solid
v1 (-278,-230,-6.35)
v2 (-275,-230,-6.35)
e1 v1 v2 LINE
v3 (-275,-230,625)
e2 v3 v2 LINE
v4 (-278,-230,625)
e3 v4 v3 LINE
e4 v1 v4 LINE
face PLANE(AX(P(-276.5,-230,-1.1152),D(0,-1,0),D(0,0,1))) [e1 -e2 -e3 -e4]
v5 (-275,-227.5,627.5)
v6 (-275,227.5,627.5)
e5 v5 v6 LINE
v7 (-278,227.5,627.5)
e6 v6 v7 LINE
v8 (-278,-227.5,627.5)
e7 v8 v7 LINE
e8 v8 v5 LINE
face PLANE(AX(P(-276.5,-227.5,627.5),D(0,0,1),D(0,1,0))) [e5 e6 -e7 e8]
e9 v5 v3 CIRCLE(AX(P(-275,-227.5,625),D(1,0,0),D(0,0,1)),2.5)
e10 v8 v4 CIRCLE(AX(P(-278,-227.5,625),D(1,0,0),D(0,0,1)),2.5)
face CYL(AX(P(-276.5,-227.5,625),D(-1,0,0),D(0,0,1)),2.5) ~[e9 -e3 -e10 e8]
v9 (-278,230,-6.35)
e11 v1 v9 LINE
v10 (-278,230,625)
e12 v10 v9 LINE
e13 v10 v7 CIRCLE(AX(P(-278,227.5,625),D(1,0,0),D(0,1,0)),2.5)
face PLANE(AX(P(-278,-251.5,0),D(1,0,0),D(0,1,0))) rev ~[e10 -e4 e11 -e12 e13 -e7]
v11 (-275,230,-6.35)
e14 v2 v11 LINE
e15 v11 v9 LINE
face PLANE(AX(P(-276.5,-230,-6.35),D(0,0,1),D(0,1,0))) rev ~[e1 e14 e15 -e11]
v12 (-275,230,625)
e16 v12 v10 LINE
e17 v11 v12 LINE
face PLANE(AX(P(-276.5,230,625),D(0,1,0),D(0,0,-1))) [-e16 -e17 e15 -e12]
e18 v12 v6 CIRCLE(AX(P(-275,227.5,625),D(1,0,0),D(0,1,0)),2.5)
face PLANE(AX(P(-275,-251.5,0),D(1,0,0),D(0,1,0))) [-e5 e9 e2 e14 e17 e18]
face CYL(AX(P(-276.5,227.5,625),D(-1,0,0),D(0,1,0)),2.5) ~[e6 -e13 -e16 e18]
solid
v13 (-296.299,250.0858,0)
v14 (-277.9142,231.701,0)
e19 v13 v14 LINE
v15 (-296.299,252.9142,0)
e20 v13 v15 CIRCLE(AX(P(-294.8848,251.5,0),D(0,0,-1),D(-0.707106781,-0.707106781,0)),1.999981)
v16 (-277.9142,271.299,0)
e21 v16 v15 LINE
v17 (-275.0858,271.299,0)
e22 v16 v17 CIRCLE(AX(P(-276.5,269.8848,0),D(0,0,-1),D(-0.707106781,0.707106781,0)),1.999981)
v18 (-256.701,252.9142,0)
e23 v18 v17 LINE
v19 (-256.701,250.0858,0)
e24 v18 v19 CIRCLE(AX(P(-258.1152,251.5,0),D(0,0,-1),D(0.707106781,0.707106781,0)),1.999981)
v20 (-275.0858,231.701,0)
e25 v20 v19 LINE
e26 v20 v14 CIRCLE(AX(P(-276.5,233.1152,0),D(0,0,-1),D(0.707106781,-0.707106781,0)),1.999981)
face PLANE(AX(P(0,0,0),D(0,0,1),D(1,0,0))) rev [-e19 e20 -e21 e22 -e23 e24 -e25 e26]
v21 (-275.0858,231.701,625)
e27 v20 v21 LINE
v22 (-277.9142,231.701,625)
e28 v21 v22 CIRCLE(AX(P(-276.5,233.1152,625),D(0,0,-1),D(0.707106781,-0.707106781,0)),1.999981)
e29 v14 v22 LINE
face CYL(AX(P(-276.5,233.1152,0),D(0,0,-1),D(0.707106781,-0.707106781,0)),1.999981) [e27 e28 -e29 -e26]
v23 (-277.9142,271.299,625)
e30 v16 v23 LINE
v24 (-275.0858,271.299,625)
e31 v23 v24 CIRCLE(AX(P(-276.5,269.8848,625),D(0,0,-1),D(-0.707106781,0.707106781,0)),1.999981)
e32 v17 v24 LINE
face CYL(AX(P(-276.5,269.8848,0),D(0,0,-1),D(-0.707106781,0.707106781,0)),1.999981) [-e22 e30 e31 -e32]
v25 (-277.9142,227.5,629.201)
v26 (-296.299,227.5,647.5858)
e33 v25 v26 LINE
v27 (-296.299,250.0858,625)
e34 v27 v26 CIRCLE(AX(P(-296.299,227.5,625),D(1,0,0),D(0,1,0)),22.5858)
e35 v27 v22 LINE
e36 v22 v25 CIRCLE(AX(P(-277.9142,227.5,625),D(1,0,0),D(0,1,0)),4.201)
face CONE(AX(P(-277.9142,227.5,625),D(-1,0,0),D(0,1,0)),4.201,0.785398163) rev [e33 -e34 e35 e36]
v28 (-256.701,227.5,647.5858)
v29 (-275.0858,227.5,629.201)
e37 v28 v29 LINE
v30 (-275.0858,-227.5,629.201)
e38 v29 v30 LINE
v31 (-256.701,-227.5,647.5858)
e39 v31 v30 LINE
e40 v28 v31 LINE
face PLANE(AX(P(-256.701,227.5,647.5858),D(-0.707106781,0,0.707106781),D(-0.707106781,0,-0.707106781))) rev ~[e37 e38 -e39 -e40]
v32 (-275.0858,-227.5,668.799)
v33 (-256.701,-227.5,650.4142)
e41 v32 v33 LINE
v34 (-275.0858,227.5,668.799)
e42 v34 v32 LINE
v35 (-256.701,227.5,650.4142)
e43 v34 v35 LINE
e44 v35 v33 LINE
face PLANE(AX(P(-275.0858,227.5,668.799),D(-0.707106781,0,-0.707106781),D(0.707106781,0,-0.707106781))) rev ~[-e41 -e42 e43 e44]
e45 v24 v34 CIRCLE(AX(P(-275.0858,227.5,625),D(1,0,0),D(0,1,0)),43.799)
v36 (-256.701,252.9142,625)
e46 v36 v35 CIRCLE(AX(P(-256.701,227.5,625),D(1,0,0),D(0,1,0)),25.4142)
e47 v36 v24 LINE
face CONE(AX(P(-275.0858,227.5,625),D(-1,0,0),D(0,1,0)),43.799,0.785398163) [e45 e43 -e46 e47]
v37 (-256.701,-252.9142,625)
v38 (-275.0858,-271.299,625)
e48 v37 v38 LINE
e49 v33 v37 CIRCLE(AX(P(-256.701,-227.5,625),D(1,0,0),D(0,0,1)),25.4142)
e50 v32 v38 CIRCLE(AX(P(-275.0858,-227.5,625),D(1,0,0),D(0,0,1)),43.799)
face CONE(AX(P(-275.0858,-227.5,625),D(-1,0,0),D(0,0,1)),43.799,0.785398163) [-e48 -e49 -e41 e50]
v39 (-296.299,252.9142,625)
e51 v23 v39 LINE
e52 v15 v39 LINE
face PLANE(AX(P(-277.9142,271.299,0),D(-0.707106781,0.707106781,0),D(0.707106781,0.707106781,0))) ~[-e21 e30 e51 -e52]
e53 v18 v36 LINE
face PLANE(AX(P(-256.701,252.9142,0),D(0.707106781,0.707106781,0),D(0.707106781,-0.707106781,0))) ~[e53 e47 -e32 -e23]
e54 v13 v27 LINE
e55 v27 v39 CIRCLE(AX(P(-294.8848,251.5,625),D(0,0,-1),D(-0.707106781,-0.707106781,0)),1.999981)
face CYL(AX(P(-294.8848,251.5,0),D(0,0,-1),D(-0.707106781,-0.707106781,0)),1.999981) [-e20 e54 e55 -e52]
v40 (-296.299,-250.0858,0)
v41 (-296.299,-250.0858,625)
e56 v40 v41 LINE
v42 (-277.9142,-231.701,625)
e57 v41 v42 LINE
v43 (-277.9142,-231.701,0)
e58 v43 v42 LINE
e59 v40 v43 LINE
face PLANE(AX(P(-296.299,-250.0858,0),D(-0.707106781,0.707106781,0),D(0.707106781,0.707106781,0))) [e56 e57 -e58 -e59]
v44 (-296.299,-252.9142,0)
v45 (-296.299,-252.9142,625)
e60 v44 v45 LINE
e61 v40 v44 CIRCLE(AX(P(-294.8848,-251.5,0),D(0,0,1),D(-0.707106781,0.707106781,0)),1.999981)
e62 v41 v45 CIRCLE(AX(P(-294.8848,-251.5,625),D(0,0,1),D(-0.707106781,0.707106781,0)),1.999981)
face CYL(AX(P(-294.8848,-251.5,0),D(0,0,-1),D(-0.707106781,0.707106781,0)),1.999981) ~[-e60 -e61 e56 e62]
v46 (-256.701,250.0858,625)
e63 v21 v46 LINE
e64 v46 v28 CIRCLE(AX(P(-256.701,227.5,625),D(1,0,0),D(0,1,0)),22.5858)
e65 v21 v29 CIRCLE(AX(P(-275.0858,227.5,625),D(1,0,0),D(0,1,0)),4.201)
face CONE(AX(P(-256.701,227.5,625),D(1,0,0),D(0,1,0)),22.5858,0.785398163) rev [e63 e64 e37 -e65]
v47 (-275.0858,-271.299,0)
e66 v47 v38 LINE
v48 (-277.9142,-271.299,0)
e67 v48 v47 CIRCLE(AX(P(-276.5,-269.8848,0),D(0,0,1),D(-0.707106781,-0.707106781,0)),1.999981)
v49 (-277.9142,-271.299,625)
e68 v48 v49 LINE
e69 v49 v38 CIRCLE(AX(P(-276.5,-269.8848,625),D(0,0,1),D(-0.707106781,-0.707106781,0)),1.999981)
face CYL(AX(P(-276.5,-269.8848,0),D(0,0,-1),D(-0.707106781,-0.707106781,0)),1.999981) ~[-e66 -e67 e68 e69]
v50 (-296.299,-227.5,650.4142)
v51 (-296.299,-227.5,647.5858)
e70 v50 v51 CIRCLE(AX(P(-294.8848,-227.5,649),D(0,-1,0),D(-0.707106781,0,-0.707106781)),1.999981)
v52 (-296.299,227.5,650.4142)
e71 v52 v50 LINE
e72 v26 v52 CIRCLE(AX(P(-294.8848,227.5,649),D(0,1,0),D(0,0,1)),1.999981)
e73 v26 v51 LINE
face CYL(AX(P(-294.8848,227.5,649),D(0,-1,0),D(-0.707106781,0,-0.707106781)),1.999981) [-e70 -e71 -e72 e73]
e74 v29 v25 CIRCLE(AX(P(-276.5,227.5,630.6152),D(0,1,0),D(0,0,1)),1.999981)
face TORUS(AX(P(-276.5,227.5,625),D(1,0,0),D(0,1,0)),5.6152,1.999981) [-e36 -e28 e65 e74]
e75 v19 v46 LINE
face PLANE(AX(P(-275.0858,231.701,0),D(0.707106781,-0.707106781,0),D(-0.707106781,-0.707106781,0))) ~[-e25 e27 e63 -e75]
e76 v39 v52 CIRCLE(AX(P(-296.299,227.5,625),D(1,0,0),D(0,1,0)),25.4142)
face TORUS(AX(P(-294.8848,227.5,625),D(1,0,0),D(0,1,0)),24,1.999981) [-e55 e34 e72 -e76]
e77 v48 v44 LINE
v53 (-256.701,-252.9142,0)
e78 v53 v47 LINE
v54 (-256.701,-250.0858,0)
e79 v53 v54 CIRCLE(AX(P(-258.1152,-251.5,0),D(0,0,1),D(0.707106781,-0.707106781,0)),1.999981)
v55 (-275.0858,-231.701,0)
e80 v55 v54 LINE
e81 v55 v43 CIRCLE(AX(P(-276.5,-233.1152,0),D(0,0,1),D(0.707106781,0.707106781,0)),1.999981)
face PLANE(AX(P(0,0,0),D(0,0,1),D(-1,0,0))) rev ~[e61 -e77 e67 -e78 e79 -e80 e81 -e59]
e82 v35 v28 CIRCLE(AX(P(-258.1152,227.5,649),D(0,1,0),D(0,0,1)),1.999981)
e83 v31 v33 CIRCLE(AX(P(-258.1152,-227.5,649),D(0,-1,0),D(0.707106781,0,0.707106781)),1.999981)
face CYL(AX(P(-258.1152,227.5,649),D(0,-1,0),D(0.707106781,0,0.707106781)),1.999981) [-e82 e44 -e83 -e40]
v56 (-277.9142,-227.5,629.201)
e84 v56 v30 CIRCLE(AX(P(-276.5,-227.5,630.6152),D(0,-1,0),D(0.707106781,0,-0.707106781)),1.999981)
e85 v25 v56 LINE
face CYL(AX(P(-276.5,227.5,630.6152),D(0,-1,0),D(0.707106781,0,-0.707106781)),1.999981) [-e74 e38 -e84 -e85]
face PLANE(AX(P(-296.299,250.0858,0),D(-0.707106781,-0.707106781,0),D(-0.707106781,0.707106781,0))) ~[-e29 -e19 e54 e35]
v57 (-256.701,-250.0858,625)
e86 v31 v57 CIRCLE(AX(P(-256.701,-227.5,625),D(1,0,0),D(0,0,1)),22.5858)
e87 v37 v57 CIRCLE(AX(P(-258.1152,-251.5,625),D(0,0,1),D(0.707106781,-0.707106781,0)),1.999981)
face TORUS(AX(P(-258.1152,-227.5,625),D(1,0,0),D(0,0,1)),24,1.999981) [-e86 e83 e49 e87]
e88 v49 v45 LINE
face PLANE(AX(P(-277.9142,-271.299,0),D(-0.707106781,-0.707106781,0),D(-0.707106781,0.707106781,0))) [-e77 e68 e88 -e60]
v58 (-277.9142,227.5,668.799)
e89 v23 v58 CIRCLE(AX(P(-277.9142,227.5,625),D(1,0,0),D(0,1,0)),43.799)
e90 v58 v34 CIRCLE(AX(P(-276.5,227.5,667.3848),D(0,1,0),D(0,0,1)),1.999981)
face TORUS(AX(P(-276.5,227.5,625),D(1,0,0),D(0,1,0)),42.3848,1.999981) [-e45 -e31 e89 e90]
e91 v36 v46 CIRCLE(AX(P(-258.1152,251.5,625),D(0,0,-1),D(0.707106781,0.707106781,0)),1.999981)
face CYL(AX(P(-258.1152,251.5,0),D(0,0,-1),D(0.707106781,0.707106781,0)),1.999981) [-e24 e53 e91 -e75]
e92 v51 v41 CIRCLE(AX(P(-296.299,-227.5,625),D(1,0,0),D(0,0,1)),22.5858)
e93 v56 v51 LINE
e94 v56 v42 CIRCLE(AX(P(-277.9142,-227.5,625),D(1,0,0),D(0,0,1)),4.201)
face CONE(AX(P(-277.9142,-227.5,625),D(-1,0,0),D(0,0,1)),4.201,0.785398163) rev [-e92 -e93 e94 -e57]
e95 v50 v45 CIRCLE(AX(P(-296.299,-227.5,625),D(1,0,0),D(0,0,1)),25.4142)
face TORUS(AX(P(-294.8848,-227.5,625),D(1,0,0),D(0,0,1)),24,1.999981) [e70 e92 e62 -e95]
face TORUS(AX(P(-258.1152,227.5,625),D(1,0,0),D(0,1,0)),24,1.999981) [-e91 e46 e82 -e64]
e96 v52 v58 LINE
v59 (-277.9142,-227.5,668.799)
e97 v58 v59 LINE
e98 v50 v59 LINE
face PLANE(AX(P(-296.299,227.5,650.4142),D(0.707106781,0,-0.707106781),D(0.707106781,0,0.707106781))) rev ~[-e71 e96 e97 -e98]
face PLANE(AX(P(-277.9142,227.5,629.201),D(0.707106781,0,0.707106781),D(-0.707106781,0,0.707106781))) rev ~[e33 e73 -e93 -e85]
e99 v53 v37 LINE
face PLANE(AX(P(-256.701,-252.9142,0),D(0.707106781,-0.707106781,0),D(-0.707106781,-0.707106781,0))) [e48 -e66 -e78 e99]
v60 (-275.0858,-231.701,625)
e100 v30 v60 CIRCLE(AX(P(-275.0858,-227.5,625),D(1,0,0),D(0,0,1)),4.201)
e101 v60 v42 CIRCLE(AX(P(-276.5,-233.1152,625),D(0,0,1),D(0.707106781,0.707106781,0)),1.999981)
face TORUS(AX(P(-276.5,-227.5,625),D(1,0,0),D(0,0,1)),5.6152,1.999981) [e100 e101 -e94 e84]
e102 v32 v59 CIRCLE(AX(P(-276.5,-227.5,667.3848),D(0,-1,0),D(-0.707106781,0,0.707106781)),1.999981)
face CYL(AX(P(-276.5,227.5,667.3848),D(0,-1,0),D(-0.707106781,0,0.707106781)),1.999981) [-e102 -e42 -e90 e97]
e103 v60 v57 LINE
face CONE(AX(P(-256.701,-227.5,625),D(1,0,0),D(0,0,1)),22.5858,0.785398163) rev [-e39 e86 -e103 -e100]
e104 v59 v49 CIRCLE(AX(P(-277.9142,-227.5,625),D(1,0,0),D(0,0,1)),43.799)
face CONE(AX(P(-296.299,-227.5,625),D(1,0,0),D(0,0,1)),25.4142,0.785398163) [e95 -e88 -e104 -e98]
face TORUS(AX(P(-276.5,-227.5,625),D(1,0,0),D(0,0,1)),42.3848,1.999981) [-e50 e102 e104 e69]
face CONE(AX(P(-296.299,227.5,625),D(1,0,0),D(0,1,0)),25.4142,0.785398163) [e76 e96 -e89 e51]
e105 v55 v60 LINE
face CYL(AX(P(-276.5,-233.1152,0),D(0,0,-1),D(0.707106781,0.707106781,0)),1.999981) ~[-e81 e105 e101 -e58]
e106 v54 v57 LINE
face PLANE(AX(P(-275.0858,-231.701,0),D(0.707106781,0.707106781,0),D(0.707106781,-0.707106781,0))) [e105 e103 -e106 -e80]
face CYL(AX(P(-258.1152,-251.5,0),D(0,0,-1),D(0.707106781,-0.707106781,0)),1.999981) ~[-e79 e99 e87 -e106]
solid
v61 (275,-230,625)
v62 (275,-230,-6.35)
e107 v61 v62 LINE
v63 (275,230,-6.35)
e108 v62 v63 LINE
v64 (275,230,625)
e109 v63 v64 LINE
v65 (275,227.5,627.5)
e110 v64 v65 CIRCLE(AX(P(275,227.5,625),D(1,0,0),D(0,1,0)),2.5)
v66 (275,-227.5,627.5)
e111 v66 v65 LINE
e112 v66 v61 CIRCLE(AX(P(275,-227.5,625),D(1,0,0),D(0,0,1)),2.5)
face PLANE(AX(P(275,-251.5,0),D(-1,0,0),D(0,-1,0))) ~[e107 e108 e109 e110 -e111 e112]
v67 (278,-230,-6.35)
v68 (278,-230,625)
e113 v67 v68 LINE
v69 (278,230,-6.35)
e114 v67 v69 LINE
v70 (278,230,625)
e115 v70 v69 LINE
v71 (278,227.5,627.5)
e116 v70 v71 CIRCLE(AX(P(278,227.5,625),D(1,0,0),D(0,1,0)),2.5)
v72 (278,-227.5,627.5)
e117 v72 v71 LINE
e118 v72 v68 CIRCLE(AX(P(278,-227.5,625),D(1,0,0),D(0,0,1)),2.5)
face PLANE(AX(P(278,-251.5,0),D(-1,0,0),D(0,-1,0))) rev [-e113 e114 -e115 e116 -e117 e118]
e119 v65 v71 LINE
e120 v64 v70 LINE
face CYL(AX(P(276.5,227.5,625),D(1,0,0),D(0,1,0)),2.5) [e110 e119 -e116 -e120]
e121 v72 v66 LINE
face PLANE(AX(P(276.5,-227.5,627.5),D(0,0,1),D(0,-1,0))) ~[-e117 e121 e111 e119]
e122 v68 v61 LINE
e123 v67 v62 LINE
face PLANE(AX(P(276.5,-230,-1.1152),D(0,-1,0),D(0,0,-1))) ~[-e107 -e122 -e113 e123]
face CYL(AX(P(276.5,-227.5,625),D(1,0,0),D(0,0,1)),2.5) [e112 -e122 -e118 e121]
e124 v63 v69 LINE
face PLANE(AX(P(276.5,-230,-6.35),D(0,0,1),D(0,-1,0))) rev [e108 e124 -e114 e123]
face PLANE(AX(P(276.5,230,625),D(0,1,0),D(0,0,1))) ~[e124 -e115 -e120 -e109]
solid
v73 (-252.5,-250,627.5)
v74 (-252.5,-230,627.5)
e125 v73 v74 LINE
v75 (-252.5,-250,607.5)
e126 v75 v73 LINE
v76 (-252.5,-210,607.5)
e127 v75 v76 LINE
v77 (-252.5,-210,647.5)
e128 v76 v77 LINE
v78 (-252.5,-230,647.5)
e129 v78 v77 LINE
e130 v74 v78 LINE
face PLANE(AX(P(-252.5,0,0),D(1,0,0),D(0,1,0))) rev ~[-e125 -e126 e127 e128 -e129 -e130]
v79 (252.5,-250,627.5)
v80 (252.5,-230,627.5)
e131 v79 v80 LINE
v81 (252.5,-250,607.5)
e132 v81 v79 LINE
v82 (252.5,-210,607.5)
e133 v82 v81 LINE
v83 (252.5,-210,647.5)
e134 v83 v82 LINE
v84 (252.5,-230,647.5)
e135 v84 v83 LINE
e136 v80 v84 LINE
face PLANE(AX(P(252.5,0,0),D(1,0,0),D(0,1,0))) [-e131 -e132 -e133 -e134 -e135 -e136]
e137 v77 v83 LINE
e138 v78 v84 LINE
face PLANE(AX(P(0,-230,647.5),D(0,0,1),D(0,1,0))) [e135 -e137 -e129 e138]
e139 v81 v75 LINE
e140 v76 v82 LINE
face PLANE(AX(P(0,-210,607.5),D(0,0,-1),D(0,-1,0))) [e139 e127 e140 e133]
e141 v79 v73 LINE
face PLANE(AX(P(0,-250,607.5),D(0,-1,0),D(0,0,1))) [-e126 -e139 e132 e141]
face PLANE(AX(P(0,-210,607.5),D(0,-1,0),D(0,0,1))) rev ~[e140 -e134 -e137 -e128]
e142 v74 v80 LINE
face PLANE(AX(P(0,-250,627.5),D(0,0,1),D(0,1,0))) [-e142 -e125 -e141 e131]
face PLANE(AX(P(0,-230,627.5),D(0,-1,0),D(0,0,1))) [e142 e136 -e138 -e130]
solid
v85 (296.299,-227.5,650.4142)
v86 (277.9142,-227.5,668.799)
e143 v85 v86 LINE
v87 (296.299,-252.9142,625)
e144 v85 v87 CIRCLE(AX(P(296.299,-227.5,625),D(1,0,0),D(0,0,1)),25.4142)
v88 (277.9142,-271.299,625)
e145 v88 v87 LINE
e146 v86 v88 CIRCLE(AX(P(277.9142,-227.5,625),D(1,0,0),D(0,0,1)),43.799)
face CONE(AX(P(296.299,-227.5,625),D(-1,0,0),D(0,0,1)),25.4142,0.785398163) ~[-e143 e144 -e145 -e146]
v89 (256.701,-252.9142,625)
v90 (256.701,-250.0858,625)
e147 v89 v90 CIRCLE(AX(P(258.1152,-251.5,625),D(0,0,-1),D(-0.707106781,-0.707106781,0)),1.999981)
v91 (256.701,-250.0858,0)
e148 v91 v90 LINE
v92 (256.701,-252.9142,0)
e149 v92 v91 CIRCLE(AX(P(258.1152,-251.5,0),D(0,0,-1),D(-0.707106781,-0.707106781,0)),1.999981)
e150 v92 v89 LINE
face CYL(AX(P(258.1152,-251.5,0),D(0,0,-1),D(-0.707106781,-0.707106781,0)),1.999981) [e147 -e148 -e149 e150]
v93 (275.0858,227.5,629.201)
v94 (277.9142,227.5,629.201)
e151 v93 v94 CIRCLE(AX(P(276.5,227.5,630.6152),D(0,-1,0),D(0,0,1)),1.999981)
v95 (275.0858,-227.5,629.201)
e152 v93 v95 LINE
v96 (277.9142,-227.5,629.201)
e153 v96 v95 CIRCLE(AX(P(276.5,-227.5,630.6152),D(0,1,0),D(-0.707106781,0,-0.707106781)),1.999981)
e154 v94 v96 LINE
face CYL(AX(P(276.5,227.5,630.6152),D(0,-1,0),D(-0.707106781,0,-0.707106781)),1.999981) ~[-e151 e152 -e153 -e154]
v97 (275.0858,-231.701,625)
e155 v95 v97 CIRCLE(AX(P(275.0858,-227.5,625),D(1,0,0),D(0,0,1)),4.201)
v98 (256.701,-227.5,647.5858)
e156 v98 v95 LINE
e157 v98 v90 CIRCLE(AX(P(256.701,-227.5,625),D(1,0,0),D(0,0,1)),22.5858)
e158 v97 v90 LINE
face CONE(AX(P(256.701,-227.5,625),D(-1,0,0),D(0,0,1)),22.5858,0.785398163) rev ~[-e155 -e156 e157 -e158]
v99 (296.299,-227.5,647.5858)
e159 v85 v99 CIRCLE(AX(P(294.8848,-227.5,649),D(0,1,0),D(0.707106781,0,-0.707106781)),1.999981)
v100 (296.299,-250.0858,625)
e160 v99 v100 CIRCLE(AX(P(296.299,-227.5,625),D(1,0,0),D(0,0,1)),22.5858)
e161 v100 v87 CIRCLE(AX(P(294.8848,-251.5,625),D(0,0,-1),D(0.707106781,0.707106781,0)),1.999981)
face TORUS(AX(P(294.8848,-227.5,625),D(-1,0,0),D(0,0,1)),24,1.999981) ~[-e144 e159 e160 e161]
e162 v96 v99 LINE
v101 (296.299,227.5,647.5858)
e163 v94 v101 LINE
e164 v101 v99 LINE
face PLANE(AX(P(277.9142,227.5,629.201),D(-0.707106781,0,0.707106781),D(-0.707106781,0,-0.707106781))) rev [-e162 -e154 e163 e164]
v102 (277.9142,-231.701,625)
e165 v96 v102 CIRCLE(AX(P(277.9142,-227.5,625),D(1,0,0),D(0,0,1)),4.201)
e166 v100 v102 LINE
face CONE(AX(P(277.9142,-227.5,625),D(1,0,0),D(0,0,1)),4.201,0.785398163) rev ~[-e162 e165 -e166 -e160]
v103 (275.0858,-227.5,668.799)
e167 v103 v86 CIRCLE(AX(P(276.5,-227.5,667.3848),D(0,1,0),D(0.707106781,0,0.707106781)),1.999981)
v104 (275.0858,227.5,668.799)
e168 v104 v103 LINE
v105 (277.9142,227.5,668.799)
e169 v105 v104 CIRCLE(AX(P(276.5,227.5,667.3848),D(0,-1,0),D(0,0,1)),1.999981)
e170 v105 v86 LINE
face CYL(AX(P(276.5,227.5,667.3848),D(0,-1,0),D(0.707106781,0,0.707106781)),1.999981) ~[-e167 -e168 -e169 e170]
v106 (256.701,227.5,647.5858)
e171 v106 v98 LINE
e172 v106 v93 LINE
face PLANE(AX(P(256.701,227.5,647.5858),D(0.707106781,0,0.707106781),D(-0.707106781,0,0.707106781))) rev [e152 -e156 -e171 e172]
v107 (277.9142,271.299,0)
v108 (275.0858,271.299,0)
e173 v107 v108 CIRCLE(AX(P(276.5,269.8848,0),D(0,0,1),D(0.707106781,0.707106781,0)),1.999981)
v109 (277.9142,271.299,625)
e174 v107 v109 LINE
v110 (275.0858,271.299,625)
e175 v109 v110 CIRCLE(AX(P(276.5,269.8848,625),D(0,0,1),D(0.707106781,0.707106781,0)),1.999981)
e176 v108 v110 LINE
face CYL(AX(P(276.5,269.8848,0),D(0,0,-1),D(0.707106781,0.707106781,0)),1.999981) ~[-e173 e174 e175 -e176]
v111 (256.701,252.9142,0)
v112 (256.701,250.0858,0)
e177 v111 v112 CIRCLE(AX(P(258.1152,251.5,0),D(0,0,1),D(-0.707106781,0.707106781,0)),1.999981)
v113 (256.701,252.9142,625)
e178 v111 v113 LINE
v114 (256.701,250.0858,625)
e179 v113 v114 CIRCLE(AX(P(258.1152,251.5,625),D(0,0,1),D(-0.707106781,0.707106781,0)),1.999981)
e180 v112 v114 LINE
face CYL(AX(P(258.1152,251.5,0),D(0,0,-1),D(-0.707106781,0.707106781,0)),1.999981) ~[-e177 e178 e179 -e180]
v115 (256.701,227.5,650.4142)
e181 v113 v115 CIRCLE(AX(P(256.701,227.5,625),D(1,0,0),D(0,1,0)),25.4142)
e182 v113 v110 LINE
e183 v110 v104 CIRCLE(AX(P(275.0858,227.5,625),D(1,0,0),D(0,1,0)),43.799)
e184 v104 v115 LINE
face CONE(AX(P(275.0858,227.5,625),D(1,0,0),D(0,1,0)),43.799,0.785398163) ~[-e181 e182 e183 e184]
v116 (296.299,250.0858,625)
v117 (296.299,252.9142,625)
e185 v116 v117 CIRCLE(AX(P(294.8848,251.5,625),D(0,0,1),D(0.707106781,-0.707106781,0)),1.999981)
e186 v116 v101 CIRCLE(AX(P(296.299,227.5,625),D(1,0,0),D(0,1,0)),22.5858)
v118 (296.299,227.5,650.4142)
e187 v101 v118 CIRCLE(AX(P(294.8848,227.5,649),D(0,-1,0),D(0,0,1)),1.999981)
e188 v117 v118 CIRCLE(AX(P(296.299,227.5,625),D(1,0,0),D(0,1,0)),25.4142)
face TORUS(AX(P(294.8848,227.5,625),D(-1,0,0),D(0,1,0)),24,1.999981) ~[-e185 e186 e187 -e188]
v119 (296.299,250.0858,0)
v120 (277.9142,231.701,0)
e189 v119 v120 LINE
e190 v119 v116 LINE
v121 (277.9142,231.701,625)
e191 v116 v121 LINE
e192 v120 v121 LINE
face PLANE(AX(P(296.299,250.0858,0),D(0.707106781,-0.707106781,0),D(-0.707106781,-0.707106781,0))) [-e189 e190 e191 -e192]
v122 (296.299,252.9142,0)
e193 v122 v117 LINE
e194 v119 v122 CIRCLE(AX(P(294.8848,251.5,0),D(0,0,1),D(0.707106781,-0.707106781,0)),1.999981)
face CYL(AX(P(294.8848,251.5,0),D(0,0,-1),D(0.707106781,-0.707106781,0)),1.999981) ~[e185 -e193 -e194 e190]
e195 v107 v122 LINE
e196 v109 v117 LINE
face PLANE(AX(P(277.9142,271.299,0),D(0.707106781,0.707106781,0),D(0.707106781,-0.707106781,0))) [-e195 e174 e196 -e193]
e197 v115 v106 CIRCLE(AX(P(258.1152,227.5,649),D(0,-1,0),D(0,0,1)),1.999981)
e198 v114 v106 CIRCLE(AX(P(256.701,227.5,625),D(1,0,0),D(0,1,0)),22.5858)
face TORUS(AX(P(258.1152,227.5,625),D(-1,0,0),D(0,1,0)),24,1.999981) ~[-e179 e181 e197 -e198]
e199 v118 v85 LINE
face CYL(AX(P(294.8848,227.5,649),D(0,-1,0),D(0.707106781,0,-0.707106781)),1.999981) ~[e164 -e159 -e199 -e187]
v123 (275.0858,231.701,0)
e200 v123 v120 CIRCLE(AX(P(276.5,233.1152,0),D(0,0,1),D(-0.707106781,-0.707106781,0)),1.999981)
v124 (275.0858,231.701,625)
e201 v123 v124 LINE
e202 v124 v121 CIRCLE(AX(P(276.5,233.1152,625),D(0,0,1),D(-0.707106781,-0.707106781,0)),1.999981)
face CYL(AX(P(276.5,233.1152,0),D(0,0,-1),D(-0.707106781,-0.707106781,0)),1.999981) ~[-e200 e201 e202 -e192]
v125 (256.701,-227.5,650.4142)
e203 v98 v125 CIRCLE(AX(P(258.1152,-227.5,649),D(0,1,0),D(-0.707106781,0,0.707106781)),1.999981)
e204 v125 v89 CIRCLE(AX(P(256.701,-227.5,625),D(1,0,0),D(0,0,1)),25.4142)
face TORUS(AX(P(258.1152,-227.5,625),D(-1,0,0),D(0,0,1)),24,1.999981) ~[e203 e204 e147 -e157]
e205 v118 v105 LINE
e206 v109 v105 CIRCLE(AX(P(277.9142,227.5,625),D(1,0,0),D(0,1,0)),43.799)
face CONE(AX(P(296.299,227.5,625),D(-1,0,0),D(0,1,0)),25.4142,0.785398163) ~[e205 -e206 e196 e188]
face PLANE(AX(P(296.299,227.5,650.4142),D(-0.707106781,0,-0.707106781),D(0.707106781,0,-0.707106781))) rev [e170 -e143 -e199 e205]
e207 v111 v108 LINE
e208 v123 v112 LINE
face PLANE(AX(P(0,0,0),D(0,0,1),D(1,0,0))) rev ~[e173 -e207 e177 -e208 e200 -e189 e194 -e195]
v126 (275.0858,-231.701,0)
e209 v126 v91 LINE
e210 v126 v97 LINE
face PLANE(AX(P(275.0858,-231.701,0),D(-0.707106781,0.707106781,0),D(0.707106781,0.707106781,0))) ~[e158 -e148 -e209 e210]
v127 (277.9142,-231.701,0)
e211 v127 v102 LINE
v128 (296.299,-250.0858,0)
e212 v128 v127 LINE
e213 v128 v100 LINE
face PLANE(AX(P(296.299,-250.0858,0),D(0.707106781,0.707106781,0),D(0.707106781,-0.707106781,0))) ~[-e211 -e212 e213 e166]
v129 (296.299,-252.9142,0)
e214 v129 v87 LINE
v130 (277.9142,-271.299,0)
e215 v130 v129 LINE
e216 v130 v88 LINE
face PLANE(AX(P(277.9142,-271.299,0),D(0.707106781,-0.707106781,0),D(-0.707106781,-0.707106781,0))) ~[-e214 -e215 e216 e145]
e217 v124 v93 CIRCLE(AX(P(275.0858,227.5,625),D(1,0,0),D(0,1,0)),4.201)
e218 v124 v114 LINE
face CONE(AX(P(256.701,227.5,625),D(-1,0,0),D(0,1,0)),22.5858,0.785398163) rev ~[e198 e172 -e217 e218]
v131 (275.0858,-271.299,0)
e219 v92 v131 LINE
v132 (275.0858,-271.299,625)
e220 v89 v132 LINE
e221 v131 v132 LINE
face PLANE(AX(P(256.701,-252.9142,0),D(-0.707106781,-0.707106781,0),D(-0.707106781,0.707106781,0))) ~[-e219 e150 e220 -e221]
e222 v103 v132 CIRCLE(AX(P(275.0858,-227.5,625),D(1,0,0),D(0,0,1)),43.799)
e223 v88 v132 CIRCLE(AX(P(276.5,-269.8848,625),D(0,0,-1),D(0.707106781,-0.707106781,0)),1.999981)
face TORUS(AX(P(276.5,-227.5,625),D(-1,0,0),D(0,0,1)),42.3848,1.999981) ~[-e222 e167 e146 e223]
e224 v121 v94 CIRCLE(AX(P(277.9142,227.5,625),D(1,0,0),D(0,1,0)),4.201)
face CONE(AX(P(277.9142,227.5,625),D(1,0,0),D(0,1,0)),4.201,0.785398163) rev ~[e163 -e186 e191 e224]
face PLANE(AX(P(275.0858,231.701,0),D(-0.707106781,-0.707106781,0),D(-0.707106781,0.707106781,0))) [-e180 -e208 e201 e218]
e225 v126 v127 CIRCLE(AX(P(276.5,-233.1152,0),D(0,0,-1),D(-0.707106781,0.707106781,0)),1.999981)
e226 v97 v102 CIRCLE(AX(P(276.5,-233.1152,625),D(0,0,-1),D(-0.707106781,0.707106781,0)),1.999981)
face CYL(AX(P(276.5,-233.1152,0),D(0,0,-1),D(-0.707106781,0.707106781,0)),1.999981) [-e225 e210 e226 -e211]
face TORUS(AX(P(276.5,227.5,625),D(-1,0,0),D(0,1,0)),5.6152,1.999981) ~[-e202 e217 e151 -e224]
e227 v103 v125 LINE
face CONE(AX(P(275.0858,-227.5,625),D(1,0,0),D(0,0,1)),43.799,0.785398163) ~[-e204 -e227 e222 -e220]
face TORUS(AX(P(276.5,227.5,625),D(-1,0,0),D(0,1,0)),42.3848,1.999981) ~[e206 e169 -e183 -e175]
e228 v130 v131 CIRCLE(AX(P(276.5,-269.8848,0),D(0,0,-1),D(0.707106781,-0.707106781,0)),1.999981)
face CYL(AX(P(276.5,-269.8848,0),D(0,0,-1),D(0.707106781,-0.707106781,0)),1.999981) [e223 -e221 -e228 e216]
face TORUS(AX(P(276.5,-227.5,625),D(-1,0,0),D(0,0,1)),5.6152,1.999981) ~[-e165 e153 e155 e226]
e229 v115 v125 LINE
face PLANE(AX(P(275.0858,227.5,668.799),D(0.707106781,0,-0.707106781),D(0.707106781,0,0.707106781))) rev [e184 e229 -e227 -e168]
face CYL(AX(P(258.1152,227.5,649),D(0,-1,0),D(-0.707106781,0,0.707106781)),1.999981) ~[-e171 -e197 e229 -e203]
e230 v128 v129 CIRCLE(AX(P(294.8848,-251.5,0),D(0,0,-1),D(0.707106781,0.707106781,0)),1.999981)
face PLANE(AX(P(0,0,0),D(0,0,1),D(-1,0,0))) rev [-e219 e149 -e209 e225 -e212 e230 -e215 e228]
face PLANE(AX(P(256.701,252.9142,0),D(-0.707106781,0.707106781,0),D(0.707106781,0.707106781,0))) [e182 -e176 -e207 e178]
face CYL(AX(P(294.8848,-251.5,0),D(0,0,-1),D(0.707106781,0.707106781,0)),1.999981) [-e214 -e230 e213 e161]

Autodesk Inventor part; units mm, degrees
ref_plane "YZ Plane" through (0, 0, 0) normal (1, 0, 0) x (0, 1, 0)
ref_plane "XZ Plane" through (0, 0, 0) normal (0, 1, 0) x (-1, 0, 0)
sketch "Sketch1" plane through (0, 0, 0) normal (0, 0, 1) x (1, 0, 0)
  line L0 (276.5, -251.5) -> (-276.5, -251.5) construction
  line L1 (-276.5, -251.5) -> (-276.5, 251.5) construction
  line L2 (-276.5, 251.5) -> (276.5, 251.5) construction
  line L3 (276.5, 251.5) -> (276.5, -251.5) construction
  line L4 (276.5, -251.5) -> (-276.5, 251.5) construction
  line L5 (-276.5, -251.5) -> (276.5, 251.5) construction
  line L6 (275.0858, 231.701) -> (256.701, 250.0858)
  line L7 (256.701, 252.9142) -> (275.0858, 271.299)
  line L8 (277.9142, 271.299) -> (296.299, 252.9142)
  line L9 (296.299, 250.0858) -> (277.9142, 231.701)
  line L10 (276.5, 230.2868) -> (276.5, 272.7132) construction
  line L11 (255.2868, 251.5) -> (297.7132, 251.5) construction
  arc A0 (256.701, 252.9142) -> (256.701, 250.0858) centre (258.1152, 251.5) ccw
  arc A1 (277.9142, 271.299) -> (275.0858, 271.299) centre (276.5, 269.8848) ccw
  arc A2 (296.299, 250.0858) -> (296.299, 252.9142) centre (294.8848, 251.5) ccw
  arc A3 (275.0858, 231.701) -> (277.9142, 231.701) centre (276.5, 233.1152) ccw
  point P0 (0, 0)
  dimension "d0" = 553
  dimension "d1" = 503
  dimension "d2" = 30
  dimension "d3" = 2
extrude "Extrusion1" add sketch "Sketch1" along normal blind 625
mirror "Mirror1" about plane through (0, 0, 0) normal (1, 0, 0) of "Extrusion1"
mirror "Mirror2" about plane through (0, 0, 0) normal (0, 1, 0) of "Extrusion1", "Mirror1"
ref_plane "Work Plane1" through (-276.5, -251.5, 0) normal (1, 0, 0) x (0, 1, 0)
sketch "Sketch2" plane through (-276.5, -251.5, 0) normal (1, 0, 0) x (0, 1, 0)
  line L0 (523.3848, 625) -> (523.3848, 0) projected
  line L1 (523.3848, 0) -> (482.6152, 0) projected
  line L2 (482.6152, 0) -> (482.6152, 625) projected
  line L3 (482.6152, 625) -> (523.3848, 625) projected
  line L4 (-20.3848, 0) -> (-20.3848, 625) projected
  line L5 (-20.3848, 625) -> (20.3848, 625) projected
  line L6 (20.3848, 625) -> (20.3848, 0) projected
  line L7 (20.3848, 0) -> (-20.3848, 0) projected
  line L8 (479, 649) -> (24, 649)
  arc A0 (503, 625) -> (479, 649) centre (479, 625) ccw
  arc A1 (24, 649) -> (0, 625) centre (24, 625) ccw
  line L9 (24, 628.6152) -> (479, 628.6152) construction
  line L10 (479, 628.6152) -> (479, 669.3848) construction
  line L11 (479, 669.3848) -> (24, 669.3848) construction
  line L12 (24, 669.3848) -> (24, 628.6152) construction
  line L13 (24, 628.6152) -> (479, 669.3848) construction
  line L14 (479, 628.6152) -> (24, 669.3848) construction
  line L15 (21.5, 607.5) -> (41.5, 607.5)
  line L16 (41.5, 607.5) -> (41.5, 647.5)
  line L17 (41.5, 647.5) -> (21.5, 647.5)
  line L18 (21.5, 647.5) -> (21.5, 607.5)
  line L19 (41.5, 607.5) -> (1.5, 607.5)
  line L20 (1.5, 607.5) -> (1.5, 627.5)
  line L21 (1.5, 627.5) -> (41.5, 627.5)
  line L22 (41.5, 627.5) -> (41.5, 607.5)
  point P0 (251.5, 0)
  point P1 (251.5, 649)
  dimension "d8" = 455
  dimension "d16" = 20
  dimension "d17" = 40
  dimension "d18" = 40
  dimension "d19" = 20
  dimension "d20" = 1.5
  dimension "d21" = 1.5
  dimension "d22" = 2.5
sketch "Sketch3" plane through (-276.5, -269.8848, 625) normal (0, 0, 1) x (1, 0, 0)
  line L0 (-19.799, 16.9706) -> (-1.4142, -1.4142) projected
  arc A0 (-1.4142, -1.4142) -> (1.4142, -1.4142) centre (0, 0) ccw projected
  line L1 (1.4142, -1.4142) -> (19.799, 16.9706) projected
  arc A1 (19.799, 16.9706) -> (19.799, 19.799) centre (18.3848, 18.3848) ccw projected
  line L2 (19.799, 19.799) -> (1.4142, 38.1838) projected
  arc A2 (1.4142, 38.1838) -> (-1.4142, 38.1838) centre (0, 36.7696) ccw projected
  line L3 (-1.4142, 38.1838) -> (-19.799, 19.799) projected
  arc A3 (-19.799, 19.799) -> (-19.799, 16.9706) centre (-18.3848, 18.3848) ccw projected
  point P0 (276.5, 269.8848)
sweep "Sweep1" add profiles "Sketch3" path "Sketch2" path curves A1 L8 A0
mirror "Mirror3" about plane through (0, 0, 0) normal (1, 0, 0) of "Sweep1"
sketch "Sketch4" plane through (-276.5, -251.5, 0) normal (1, 0, 0) x (0, 1, 0)
  arc A0 (523.3848, 625) -> (479, 669.3848) centre (479, 625) ccw projected
  line L0 (523.3848, 625) -> (523.3848, 0) projected
  line L1 (523.3848, 0) -> (482.6152, 0) projected
  line L2 (482.6152, 0) -> (482.6152, 625) projected
  arc A1 (482.6152, 625) -> (479, 628.6152) centre (479, 625) ccw projected
  line L3 (479, 628.6152) -> (24, 628.6152) projected
  arc A2 (24, 628.6152) -> (20.3848, 625) centre (24, 625) ccw projected
  line L4 (20.3848, 625) -> (20.3848, 0) projected
  line L5 (20.3848, 0) -> (-20.3848, 0) projected
  line L6 (-20.3848, 0) -> (-20.3848, 625) projected
  arc A3 (24, 669.3848) -> (-20.3848, 625) centre (24, 625) ccw projected
  line L7 (24, 669.3848) -> (479, 669.3848) projected
  arc A4 (24, 627.5) -> (21.5, 625) centre (24, 625) ccw
  line L8 (24, 627.5) -> (479, 627.5)
  arc A5 (481.5, 625) -> (479, 627.5) centre (479, 625) ccw
  line L9 (481.5, 625) -> (481.5, -1.1152)
  line L10 (481.5, -1.1152) -> (524.5, -1.1152)
  line L11 (524.5, -1.1152) -> (524.5, 625)
  arc A6 (524.5, 625) -> (479, 670.5) centre (479, 625) ccw
  line L12 (479, 670.5) -> (24, 670.5)
  arc A7 (24, 670.5) -> (-21.5, 625) centre (24, 625) ccw
  line L13 (-21.5, 625) -> (-21.5, -1.1152)
  line L14 (-21.5, -1.1152) -> (21.5, -1.1152)
  line L15 (21.5, -1.1152) -> (21.5, 625)
  line L16 (481.5, -1.1152) -> (21.5, -1.1152)
  line L17 (21.5, -1.1152) -> (21.5, -6.35)
  line L18 (21.5, -6.35) -> (481.5, -6.35)
  line L19 (481.5, -6.35) -> (481.5, -1.1152)
  point P0 (251.5, 0)
  dimension "d11" = 460
  dimension "d12" = 1.1152
  dimension "d13" = 6.35
extrude "Extrusion2" add sketch "Sketch4" along normal mid plane 3 separate body contours L8 A5 L9 L16 L15 A4 | L16 L19 L18 L17
mirror "Mirror4" about plane through (0, 0, 0) normal (1, 0, 0) of "Extrusion2" bodies 2
sketch "Sketch5" plane through (0, 0, 0) normal (1, 0, 0) x (0, 1, 0)
  line L0 (-210, 607.5) -> (-210, 647.5) projected
  line L1 (-210, 607.5) -> (-250, 607.5) projected
  line L2 (-210, 607.5) -> (-230, 607.5)
  line L3 (-230, 607.5) -> (-230, 647.5)
  line L4 (-230, 647.5) -> (-210, 647.5)
  line L5 (-210, 647.5) -> (-210, 607.5)
  line L6 (-210, 607.5) -> (-250, 607.5)
  line L7 (-250, 607.5) -> (-250, 627.5)
  line L8 (-250, 627.5) -> (-210, 627.5)
  line L9 (-210, 627.5) -> (-210, 607.5)
  point P0 (0, 0)
  point P1 (-230, 627.5)
  point P2 (-250, 607.5)
  dimension "d23" = 20
  dimension "d24" = 40
  dimension "d25" = 40
  dimension "d26" = 20
extrude "Extrusion3" add sketch "Sketch5" along normal mid plane 505 separate body
properties part number "Frame Test" material "Aluminum 6061"
